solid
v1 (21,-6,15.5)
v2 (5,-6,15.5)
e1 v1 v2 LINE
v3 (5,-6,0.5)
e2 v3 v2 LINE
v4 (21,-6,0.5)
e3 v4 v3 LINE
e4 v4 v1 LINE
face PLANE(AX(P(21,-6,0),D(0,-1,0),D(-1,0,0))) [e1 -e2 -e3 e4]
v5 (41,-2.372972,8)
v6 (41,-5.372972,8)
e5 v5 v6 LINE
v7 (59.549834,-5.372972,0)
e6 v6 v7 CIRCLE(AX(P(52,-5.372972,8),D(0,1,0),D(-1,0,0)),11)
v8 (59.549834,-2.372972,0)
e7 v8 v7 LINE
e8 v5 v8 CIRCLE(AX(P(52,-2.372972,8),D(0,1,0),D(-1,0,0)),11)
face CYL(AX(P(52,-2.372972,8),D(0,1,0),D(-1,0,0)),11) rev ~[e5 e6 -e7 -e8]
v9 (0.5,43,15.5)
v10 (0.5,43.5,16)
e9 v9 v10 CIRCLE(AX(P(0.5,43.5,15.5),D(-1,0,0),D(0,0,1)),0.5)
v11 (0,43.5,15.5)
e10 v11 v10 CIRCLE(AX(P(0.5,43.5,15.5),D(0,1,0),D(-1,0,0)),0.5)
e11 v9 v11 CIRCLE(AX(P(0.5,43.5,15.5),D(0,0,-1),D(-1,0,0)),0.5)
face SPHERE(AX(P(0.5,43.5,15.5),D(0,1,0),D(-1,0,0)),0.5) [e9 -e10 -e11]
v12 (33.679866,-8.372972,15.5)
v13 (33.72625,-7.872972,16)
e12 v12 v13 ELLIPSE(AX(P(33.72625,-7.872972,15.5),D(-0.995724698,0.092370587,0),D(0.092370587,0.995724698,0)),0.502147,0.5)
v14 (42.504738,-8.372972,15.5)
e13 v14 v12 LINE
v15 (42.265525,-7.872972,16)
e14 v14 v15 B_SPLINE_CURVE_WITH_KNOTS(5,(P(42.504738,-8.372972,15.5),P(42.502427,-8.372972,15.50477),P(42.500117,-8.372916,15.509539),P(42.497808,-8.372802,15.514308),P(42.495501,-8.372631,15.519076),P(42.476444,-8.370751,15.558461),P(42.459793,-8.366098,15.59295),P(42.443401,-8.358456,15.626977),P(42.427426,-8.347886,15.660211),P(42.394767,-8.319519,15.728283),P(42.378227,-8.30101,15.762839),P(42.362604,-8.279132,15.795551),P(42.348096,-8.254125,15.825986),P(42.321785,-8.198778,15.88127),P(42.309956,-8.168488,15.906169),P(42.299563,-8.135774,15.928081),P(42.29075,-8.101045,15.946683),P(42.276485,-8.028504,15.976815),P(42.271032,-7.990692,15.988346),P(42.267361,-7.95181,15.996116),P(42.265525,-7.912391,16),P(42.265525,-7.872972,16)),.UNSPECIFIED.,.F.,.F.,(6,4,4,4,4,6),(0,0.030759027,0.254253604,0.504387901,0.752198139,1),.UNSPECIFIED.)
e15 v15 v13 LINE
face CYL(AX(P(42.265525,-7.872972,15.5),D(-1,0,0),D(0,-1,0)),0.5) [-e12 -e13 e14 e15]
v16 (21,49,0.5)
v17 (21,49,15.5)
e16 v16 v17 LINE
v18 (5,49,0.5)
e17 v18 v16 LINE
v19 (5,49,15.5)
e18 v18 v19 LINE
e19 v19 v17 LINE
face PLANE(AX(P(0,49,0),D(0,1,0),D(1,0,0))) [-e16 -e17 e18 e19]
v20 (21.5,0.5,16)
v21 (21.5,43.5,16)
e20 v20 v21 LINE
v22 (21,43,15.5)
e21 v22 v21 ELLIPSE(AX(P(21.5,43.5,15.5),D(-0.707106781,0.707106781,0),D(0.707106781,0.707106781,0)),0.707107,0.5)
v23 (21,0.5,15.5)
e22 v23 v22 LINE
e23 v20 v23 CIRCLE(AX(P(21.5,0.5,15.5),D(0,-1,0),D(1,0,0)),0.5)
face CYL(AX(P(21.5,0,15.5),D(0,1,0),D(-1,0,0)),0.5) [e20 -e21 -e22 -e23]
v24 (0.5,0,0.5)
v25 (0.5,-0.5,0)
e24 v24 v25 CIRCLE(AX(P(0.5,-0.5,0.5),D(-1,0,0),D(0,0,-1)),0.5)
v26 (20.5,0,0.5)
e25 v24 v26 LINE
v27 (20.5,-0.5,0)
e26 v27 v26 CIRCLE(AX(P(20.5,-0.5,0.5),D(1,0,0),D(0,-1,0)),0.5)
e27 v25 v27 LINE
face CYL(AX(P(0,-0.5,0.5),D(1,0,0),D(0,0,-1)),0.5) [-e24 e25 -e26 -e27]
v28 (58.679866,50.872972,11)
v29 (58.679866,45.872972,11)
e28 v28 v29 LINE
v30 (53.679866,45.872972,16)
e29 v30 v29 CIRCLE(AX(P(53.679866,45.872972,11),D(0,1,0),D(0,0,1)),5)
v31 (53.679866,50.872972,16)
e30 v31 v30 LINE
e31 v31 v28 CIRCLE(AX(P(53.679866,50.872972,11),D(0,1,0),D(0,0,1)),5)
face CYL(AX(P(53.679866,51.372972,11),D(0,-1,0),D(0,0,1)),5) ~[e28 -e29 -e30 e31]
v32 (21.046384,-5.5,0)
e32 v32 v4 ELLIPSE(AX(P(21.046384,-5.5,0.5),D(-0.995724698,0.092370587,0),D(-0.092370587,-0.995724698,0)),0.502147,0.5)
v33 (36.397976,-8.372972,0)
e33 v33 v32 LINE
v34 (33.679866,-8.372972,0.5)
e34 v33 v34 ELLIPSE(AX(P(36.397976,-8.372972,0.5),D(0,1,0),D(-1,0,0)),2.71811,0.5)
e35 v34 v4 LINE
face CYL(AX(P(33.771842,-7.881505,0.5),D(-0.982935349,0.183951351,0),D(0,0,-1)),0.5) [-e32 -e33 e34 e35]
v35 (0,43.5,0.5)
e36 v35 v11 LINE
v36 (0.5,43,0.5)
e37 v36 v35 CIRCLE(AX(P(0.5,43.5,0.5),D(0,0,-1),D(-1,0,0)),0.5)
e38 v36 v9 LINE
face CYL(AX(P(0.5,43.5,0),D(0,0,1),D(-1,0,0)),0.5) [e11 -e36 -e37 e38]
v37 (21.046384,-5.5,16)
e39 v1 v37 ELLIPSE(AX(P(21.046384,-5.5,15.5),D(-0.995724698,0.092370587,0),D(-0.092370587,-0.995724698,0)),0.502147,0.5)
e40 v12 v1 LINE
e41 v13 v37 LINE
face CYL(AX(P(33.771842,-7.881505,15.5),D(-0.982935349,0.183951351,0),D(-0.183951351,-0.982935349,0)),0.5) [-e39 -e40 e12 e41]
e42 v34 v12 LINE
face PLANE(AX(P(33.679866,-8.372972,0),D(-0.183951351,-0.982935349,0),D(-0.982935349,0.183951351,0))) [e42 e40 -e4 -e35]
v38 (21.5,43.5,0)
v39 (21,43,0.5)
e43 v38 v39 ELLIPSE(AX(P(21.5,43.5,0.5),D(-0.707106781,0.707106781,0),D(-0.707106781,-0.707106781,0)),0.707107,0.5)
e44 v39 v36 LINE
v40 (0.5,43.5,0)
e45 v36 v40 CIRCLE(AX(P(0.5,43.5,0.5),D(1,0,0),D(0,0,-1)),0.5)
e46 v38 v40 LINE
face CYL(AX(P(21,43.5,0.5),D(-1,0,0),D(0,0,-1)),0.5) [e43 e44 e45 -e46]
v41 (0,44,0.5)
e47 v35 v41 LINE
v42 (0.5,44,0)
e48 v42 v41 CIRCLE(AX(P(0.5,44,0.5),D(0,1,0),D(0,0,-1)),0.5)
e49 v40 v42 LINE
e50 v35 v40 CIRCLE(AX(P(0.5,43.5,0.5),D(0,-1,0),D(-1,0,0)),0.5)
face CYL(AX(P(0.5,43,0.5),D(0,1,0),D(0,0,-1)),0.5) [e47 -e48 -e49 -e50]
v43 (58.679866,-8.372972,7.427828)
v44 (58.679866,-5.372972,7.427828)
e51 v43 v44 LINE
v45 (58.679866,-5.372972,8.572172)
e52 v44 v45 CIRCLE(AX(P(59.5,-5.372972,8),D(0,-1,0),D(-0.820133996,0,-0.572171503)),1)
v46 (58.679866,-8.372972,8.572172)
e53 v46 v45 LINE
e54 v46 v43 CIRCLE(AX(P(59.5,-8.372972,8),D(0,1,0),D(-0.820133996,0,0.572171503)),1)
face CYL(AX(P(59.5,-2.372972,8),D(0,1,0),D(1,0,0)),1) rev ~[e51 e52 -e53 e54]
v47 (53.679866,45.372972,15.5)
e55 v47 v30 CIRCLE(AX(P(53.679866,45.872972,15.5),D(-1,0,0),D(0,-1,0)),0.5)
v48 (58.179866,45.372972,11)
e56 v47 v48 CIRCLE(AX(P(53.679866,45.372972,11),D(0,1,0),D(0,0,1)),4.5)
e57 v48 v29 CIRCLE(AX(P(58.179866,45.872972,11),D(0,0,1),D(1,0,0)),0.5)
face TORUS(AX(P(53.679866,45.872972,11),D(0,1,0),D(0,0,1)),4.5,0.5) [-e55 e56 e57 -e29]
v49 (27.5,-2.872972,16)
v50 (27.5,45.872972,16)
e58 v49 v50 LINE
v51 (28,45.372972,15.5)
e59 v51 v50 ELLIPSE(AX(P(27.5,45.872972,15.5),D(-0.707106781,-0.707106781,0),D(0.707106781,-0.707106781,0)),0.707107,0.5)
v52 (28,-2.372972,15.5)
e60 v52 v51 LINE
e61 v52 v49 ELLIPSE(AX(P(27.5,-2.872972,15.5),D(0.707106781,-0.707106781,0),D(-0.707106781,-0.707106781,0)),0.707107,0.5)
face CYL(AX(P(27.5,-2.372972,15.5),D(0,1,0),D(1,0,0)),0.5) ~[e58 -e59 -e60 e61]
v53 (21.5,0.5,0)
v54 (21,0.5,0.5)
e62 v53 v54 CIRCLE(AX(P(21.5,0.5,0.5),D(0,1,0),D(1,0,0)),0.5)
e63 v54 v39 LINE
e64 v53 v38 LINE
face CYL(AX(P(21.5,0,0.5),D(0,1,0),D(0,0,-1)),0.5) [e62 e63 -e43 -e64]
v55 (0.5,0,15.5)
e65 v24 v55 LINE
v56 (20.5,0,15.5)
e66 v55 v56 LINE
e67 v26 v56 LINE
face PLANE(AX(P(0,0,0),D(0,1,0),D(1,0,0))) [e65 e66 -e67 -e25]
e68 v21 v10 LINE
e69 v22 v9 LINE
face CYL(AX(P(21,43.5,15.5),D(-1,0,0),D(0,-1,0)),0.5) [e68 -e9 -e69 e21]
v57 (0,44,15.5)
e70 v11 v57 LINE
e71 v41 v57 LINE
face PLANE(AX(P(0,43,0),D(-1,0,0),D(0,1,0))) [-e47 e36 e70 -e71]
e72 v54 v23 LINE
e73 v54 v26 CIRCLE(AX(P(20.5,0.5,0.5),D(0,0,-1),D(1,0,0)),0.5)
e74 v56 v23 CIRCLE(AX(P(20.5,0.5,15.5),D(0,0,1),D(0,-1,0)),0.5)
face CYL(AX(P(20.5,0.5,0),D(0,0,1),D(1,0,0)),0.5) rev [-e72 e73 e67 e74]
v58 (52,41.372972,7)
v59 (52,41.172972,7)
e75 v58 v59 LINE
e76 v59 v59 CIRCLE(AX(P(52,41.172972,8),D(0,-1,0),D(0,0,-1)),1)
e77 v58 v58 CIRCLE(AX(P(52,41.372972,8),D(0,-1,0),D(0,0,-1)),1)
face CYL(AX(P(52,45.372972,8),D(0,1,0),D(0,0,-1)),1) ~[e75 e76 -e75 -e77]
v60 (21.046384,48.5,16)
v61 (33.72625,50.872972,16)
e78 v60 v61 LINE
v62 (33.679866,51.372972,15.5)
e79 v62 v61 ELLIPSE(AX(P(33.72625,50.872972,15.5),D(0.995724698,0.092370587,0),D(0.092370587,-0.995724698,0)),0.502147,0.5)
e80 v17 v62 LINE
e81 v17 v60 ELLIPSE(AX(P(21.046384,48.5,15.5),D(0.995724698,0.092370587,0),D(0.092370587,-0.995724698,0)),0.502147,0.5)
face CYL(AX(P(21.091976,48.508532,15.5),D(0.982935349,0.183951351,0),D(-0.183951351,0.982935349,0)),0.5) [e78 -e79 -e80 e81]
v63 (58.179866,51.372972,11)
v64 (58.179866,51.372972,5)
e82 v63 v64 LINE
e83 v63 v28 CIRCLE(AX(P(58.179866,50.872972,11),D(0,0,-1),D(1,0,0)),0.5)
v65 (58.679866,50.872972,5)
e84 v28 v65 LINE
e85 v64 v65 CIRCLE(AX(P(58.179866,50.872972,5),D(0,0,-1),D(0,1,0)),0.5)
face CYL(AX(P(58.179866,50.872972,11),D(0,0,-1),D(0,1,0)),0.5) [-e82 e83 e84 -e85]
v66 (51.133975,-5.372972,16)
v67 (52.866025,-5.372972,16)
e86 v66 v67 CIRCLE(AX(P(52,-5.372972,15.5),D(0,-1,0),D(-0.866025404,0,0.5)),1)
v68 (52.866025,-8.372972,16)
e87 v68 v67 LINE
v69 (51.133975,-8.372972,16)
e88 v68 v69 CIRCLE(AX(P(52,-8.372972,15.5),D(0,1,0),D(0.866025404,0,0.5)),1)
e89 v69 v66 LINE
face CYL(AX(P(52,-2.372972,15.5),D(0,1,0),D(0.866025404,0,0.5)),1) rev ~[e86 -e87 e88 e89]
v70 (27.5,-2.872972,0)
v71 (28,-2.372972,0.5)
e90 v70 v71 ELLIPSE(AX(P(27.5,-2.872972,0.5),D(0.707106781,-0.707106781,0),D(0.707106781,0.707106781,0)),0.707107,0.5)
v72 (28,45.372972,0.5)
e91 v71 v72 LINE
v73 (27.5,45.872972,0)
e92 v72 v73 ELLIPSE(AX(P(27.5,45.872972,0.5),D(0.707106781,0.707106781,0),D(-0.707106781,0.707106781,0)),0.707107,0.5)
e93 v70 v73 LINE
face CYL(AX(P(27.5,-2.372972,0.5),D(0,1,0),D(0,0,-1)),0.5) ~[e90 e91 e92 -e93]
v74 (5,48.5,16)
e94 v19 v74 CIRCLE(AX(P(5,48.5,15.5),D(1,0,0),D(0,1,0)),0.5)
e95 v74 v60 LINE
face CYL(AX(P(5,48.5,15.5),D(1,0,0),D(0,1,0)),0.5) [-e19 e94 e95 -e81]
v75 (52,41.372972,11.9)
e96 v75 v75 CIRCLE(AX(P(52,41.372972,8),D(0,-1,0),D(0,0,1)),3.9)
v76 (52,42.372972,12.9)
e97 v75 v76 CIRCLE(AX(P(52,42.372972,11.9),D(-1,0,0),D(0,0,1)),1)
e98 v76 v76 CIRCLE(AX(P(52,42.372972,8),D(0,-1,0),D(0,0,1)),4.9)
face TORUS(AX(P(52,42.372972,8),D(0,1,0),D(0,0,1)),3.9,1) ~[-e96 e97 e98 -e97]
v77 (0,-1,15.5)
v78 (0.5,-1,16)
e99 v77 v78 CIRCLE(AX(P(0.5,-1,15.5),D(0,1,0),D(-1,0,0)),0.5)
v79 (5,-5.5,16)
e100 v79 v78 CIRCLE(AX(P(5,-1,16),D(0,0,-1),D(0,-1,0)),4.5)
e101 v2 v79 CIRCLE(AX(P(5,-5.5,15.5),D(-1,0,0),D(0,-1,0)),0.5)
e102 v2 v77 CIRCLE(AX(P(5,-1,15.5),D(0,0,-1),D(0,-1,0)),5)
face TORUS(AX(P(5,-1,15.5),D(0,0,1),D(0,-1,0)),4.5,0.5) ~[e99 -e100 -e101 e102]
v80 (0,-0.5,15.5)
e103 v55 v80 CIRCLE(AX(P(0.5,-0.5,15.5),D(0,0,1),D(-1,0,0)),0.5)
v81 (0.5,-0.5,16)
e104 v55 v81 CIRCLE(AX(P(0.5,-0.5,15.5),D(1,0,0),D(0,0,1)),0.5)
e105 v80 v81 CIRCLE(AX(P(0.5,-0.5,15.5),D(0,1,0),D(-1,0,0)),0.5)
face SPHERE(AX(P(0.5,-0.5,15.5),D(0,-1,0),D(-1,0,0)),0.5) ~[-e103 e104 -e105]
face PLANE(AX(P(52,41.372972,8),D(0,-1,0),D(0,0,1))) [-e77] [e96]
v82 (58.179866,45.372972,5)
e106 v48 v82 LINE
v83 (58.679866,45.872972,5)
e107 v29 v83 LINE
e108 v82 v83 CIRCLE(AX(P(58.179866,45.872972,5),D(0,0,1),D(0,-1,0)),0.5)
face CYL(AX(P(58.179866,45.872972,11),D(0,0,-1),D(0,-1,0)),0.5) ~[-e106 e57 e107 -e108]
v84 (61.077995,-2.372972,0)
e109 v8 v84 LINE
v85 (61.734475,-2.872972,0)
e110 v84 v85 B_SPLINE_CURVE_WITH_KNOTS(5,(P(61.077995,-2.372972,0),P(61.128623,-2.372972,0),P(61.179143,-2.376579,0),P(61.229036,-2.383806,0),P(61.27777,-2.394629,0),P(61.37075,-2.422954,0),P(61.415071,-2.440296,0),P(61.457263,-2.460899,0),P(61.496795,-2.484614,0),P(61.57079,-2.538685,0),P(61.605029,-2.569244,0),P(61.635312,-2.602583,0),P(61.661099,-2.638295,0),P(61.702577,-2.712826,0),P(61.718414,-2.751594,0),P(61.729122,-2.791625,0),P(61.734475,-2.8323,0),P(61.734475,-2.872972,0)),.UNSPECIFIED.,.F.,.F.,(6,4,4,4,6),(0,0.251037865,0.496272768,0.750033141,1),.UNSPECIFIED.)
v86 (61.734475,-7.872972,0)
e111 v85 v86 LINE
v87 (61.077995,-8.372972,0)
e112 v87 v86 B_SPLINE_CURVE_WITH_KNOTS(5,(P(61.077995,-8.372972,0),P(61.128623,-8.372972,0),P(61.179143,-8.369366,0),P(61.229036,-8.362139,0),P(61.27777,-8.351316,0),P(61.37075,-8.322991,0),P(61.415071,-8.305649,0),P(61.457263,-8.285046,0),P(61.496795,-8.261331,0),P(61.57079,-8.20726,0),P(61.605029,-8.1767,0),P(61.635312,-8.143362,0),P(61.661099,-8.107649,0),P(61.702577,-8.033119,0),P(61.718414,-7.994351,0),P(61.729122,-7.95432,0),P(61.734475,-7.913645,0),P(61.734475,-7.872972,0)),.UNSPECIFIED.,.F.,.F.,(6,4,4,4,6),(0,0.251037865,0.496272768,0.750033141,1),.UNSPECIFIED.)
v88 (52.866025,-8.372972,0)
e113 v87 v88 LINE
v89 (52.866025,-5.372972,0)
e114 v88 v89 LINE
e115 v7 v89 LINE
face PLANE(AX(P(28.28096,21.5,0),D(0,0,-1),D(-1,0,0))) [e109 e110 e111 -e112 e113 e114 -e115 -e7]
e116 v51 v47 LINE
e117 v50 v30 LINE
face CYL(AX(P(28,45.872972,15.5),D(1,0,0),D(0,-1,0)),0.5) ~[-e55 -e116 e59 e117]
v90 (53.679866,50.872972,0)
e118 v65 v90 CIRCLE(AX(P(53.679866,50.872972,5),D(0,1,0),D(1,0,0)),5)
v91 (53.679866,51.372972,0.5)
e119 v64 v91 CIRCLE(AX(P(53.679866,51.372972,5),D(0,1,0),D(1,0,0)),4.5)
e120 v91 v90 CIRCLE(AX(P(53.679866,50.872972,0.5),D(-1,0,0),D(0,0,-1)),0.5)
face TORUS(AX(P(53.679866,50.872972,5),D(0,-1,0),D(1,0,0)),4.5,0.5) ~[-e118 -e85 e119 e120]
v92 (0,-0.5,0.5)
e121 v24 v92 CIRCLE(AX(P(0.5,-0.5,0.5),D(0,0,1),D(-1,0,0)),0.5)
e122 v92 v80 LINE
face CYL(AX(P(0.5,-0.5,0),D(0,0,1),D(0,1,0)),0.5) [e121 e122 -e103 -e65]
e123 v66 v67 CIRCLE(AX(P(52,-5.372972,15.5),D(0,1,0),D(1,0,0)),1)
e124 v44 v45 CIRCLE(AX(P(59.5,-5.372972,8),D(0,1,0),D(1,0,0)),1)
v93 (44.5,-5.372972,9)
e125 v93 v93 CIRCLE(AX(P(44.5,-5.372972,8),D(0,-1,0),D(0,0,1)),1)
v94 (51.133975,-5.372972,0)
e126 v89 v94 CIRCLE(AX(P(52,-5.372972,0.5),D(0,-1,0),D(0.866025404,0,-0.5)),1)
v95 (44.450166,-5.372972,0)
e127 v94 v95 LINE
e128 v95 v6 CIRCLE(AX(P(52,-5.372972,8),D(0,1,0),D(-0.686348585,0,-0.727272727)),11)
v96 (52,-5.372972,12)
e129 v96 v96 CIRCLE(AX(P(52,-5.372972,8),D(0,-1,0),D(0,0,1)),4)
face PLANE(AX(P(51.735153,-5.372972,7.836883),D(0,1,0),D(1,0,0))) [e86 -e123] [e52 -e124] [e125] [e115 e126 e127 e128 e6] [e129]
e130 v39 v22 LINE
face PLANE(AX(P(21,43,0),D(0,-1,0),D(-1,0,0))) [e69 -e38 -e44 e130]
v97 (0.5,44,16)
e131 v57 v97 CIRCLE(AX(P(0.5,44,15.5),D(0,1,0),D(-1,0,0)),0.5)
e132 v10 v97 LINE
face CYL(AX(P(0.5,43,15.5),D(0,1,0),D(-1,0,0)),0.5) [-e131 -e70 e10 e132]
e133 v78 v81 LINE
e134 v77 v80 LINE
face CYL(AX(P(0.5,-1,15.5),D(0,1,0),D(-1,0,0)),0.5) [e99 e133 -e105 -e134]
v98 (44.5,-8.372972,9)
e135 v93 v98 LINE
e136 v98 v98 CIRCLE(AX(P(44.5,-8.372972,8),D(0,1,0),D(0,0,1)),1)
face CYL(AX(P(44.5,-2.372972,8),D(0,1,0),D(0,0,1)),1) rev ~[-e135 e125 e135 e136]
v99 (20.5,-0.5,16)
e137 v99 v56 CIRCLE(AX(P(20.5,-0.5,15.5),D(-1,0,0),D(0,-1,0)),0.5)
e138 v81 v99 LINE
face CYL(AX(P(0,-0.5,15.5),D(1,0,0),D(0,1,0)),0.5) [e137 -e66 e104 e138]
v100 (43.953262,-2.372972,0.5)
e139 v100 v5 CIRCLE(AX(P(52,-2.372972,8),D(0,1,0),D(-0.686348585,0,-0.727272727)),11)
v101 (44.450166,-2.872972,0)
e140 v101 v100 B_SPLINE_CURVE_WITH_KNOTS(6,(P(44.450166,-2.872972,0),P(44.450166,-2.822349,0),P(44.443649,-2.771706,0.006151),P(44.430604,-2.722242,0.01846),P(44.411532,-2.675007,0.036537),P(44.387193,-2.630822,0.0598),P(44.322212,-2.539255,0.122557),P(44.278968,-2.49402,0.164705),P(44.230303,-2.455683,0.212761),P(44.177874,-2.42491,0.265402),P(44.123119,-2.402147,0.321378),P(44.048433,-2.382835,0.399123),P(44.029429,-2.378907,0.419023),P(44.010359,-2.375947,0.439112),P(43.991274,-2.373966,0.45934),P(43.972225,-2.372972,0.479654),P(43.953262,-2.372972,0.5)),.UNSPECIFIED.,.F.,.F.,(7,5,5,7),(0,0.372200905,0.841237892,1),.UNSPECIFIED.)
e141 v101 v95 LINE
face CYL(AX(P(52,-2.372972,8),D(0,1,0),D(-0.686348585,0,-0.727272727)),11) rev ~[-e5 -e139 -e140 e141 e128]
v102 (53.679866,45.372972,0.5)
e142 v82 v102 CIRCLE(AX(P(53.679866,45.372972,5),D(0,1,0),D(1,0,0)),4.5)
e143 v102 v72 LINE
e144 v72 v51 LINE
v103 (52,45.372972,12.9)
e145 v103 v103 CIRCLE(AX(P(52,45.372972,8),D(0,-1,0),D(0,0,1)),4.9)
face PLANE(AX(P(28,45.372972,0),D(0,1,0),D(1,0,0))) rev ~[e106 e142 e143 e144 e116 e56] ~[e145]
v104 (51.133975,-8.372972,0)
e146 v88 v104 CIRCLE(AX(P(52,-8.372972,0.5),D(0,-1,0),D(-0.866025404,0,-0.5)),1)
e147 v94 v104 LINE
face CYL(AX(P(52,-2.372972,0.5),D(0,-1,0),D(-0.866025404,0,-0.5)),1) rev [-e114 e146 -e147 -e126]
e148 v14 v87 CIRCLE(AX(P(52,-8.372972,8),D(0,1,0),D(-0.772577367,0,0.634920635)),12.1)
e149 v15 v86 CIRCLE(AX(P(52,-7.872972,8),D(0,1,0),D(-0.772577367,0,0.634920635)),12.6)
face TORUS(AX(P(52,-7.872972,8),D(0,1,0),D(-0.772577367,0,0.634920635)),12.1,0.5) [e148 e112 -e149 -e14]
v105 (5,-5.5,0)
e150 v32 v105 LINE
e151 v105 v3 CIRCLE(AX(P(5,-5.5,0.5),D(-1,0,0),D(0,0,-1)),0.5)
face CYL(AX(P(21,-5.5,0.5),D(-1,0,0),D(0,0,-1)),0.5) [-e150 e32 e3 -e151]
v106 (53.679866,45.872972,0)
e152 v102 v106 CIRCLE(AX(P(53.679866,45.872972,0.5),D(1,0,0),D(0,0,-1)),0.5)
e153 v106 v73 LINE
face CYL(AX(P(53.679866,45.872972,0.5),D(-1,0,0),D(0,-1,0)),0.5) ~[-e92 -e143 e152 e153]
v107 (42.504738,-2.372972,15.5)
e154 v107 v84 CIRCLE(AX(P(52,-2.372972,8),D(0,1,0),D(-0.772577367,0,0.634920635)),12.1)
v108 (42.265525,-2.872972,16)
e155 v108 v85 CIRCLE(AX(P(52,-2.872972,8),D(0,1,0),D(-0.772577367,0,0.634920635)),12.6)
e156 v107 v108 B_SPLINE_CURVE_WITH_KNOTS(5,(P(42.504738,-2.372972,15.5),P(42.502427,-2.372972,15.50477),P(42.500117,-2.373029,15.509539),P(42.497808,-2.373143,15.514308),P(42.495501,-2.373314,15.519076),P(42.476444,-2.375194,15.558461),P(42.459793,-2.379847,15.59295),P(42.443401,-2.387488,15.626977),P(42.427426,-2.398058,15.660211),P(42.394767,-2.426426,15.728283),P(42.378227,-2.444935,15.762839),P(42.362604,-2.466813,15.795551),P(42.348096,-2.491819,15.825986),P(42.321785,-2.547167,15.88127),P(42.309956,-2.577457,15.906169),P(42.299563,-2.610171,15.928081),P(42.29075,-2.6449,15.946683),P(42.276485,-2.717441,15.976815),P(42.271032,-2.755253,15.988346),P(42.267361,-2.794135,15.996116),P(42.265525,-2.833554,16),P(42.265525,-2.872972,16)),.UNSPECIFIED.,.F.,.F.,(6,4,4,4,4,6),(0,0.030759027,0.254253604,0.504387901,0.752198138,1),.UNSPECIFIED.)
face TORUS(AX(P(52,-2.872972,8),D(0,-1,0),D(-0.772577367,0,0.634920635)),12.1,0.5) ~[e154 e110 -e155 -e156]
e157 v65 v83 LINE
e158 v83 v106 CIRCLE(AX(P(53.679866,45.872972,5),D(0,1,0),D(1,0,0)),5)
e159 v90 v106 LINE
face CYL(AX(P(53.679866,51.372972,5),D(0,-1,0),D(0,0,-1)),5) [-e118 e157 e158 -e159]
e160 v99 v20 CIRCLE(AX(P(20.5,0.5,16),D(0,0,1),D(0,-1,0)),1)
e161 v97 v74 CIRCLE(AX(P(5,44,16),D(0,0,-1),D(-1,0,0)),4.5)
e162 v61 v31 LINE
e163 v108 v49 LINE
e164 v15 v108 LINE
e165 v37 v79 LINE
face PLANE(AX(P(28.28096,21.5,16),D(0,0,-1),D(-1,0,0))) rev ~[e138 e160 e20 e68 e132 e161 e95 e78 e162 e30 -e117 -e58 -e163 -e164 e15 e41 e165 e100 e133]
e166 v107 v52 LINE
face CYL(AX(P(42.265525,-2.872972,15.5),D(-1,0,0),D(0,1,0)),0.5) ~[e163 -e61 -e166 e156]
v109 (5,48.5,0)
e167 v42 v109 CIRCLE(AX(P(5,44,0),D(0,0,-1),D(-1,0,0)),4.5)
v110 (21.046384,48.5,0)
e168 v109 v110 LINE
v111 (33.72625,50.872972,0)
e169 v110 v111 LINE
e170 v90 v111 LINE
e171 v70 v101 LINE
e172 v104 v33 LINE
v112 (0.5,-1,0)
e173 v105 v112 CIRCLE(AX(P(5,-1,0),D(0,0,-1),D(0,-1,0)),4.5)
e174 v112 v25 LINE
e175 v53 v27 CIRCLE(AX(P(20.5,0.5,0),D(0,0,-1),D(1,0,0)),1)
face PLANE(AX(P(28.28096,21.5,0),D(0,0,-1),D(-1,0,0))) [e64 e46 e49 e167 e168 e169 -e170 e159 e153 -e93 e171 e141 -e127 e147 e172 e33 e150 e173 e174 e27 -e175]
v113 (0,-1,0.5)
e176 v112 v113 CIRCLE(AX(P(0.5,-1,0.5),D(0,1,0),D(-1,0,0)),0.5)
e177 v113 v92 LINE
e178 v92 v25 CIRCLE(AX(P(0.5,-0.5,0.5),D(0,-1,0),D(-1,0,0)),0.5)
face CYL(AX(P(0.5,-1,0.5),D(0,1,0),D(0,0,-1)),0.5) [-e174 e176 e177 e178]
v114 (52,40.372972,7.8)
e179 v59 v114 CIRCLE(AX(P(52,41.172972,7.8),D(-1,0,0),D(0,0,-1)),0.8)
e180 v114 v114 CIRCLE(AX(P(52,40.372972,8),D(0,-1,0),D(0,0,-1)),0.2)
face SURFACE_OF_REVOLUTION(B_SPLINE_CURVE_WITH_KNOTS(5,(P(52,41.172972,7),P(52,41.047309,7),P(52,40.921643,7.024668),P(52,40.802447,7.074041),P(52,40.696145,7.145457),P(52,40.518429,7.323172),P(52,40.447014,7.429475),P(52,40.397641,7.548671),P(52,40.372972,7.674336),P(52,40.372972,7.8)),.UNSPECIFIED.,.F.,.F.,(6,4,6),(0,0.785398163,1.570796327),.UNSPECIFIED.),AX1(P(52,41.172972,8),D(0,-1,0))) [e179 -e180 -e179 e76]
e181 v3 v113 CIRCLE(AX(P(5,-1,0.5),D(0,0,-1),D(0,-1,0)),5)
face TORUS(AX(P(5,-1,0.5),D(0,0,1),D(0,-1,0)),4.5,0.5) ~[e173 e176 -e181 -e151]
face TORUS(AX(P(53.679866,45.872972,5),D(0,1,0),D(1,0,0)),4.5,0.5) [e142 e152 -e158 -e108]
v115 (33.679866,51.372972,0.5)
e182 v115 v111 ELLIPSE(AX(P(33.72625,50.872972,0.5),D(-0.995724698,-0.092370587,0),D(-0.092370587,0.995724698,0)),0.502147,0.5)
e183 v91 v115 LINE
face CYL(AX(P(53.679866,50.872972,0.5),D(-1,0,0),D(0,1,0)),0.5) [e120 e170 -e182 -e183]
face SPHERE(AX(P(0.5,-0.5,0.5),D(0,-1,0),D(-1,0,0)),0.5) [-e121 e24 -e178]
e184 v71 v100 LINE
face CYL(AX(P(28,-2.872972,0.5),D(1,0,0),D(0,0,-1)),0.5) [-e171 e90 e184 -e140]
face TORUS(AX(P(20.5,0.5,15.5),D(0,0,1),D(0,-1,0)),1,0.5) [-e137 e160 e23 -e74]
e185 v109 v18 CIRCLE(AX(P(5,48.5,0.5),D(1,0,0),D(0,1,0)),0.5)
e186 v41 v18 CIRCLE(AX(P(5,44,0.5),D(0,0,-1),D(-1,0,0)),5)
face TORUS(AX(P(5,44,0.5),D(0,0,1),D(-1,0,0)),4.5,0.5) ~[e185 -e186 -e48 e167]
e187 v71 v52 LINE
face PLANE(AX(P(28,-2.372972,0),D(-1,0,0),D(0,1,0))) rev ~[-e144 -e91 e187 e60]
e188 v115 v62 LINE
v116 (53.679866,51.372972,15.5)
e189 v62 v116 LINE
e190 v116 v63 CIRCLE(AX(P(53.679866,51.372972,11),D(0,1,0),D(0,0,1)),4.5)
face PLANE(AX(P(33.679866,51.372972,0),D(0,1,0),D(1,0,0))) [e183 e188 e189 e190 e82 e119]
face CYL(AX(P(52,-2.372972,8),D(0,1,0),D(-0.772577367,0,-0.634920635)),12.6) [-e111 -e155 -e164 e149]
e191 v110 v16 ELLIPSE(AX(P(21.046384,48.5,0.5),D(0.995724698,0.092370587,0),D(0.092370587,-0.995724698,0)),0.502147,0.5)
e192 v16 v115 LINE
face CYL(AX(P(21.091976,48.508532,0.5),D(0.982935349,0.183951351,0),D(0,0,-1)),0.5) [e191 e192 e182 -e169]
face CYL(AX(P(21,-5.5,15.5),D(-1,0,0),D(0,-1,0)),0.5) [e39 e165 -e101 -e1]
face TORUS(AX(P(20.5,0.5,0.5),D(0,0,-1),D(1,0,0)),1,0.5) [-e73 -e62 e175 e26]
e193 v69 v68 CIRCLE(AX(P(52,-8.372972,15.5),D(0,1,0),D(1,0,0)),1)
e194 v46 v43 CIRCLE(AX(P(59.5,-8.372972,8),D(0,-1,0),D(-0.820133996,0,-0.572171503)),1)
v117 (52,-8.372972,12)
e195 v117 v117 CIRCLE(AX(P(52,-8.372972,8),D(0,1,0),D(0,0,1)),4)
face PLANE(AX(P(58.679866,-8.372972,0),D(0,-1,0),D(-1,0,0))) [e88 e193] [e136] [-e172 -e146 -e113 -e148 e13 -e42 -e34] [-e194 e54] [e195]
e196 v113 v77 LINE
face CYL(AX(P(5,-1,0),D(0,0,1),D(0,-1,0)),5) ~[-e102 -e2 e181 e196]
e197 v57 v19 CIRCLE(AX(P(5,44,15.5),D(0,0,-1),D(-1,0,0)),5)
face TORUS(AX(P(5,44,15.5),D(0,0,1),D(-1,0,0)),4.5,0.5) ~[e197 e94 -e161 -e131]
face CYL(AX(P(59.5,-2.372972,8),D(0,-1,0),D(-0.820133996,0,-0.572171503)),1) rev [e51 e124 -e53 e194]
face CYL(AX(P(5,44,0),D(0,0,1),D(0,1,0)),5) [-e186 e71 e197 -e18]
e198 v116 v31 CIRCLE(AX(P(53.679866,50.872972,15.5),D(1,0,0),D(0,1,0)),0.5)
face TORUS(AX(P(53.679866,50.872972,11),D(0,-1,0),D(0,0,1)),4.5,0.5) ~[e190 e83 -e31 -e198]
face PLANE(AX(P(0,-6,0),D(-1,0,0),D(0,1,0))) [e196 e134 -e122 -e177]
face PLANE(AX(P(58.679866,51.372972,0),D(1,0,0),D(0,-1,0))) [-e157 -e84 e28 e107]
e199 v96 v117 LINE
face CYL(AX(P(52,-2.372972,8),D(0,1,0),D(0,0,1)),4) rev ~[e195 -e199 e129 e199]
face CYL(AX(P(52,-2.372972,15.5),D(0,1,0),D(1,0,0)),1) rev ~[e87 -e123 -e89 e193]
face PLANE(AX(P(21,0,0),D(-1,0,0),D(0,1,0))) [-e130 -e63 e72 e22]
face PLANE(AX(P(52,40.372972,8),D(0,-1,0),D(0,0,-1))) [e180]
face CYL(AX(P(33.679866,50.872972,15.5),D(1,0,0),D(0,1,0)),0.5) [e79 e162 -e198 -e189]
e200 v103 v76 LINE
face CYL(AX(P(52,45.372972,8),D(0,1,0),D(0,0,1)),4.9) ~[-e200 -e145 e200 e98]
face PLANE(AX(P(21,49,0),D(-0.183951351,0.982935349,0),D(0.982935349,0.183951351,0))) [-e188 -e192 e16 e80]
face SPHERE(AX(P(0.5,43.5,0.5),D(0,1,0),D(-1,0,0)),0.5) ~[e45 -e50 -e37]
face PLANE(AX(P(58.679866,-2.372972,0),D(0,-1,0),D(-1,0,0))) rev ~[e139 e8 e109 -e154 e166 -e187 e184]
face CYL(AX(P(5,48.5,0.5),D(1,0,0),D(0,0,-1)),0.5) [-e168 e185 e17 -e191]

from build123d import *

# Parameters (mm, degrees)
BOSS_EXTRUDE1_DEPTH = 16
SKETCH3_R           = 4
SKETCH3_R_2         = 1
BOSS_EXTRUDE2_DEPTH = 6
SKETCH3_3_R         = 1
CUT_EXTRUDE1_DEPTH  = 3
SKETCH3_4_R         = 4
SKETCH3_4_R_2       = 1
CUT_EXTRUDE2_DEPTH  = 6.5
SKETCH4_R           = 4.9
SKETCH4_R_2         = 1
BOSS_EXTRUDE3_DEPTH = 4
SKETCH4_3_R         = 1
BOSS_EXTRUDE4_DEPTH = 5
FILLET1_R           = 0.8
FILLET2_R           = 1
FILLET3_R           = 5
FILLET4_R           = 5
FILLET5_R           = 0.5


with BuildPart() as part:
    # Sketch1 → Boss-Extrude1 (new body)
    with BuildSketch(Plane.XY):
        Polygon((0, 49), (21, 49), (33.679866004, 51.372972423), (58.679866004, 51.372972423), (58.679866004, 45.372972423), (33.679866004, 45.372972423), (28, 45.372972423), (28, 43), (28, 0), (28, -2.372972423), (33.679866004, -2.372972423), (58.679866004, -2.372972423), (58.679866004, -8.372972423), (33.679866004, -8.372972423), (21, -6), (0, -6), (0, 0), (21, 0), (21, 43), (0, 43), align=None)
    extrude(amount=BOSS_EXTRUDE1_DEPTH)

    # Sketch3 → Boss-Extrude2 (add)
    with BuildSketch(Plane(origin=(0, -2.372972423, 0), x_dir=(1, 0, 0), z_dir=(0, 1, 0))):
        with BuildLine():
            Line((58.679866004, 0), (42.265525181, 0))
            ThreePointArc((42.265525181, 0), (52, -20.6), (61.734474819, 0))
            Line((61.734474819, 0), (58.679866004, 0))
        make_face()
        with Locations((52, -8)):
            Circle(SKETCH3_R, mode=Mode.SUBTRACT)
        with Locations((44.5, -8)):
            Circle(SKETCH3_R_2, mode=Mode.SUBTRACT)
        with Locations((59.5, -8)):
            Circle(SKETCH3_R_2, mode=Mode.SUBTRACT)
        with Locations((52, -15.5)):
            Circle(SKETCH3_R_2, mode=Mode.SUBTRACT)
    extrude(amount=-BOSS_EXTRUDE2_DEPTH)

    # Sketch3<3> → Cut-Extrude1 (cut)
    with BuildSketch(Plane(origin=(0, -2.372972423, 0), x_dir=(1, 0, 0), z_dir=(0, 1, 0))):
        with BuildLine():
            Line((59.549834435, 0), (58.679866004, 0))
            Line((58.679866004, 0), (52.866025404, 0))
            ThreePointArc((52.866025404, 0), (52, -1.5), (51.133974596, 0))
            Line((51.133974596, 0), (44.450165565, 0))
            ThreePointArc((44.450165565, 0), (41.899302529, -3.643865176), (41, -8))
            ThreePointArc((41, -8), (56.356134824, -18.100697471), (59.549834435, 0))
        make_face()
        with Locations((52, -15.5)):
            Circle(SKETCH3_3_R, mode=Mode.SUBTRACT)
        with BuildLine():
            ThreePointArc((45.5, -8), (44.5, -9), (43.5, -8))
            ThreePointArc((43.5, -8), (44.5, -7), (45.5, -8))
        make_face(mode=Mode.SUBTRACT)
        with BuildLine():
            ThreePointArc((56, -8), (52, -12), (48, -8))
            ThreePointArc((48, -8), (52, -4), (56, -8))
        make_face(mode=Mode.SUBTRACT)
        with Locations((59.5, -8)):
            Circle(SKETCH3_3_R, mode=Mode.SUBTRACT)
    extrude(amount=-CUT_EXTRUDE1_DEPTH, mode=Mode.SUBTRACT)

    # Sketch3<4> → Cut-Extrude2 (cut, symmetric)
    with BuildSketch(Plane(origin=(0, -2.372972423, 0), x_dir=(1, 0, 0), z_dir=(0, 1, 0))):
        with Locations(Location((52, -8, 0), (0, 0, 270))):
            Circle(SKETCH3_4_R)
        with Locations(Location((44.5, -8, 0), (0, 0, 270))):
            Circle(SKETCH3_4_R_2)
        with BuildLine():
            ThreePointArc((51.133974596, 0), (52, -1.5), (52.866025404, 0))
            Line((52.866025404, 0), (51.133974596, 0))
        make_face()
        with BuildLine():
            Line((58.679866004, -8.572171503), (58.679866004, -7.427828497))
            ThreePointArc((58.679866004, -7.427828497), (58.5, -8), (58.679866004, -8.572171503))
        make_face()
        with BuildLine():
            ThreePointArc((52.866025404, -16), (52, -14.5), (51.133974596, -16))
            Line((51.133974596, -16), (52.866025404, -16))
        make_face()
    extrude(amount=CUT_EXTRUDE2_DEPTH, both=True, mode=Mode.SUBTRACT)

    # Sketch4 → Boss-Extrude3 (add)
    with BuildSketch(Plane.XZ.offset(-45.372972423)):
        with Locations(Location((52, 8, 0), (0, 0, 90))):
            Circle(SKETCH4_R)
        with Locations(Location((52, 8, 0), (0, 0, 270))):
            Circle(SKETCH4_R_2, mode=Mode.SUBTRACT)
    extrude(amount=BOSS_EXTRUDE3_DEPTH)

    # Sketch4<3> → Boss-Extrude4 (add)
    with BuildSketch(Plane.XZ.offset(-45.372972423)):
        with Locations(Location((52, 8, 0), (0, 0, 270))):
            Circle(SKETCH4_3_R)
    extrude(amount=BOSS_EXTRUDE4_DEPTH)

    # Fillet1
    fillet1_edges = [part.edges().sort_by_distance(p)[0] for p in [
        (52, 40.372972423, 9),
    ]]
    fillet(fillet1_edges, radius=FILLET1_R)

    # Fillet2
    fillet2_edges = [part.edges().sort_by_distance(p)[0] for p in [
        (52, 41.372972423, 3.1),
    ]]
    fillet(fillet2_edges, radius=FILLET2_R)

    # Fillet3
    fillet3_edges = [part.edges().sort_by_distance(p)[0] for p in [
        (58.679866004, 48.372972423, 0),
        (58.679866004, 48.372972423, 16),
    ]]
    fillet(fillet3_edges, radius=FILLET3_R)

    # Fillet4
    fillet4_edges = [part.edges().sort_by_distance(p)[0] for p in [
        (0, 49, 8),
        (0, -6, 8),
    ]]
    fillet(fillet4_edges, radius=FILLET4_R)

    # Fillet5
    fillet5_edges = [part.edges().sort_by_distance(p)[0] for p in [
        (43.679866004, 51.372972423, 16),
        (57.21539991, 51.372972423, 14.535533906),
        (58.679866004, 51.372972423, 8),
        (57.21539991, 51.372972423, 1.464466094),
        (0, 43.5, 16),
        (1.464466094, 47.535533906, 16),
        (0, 43.5, 0),
        (1.464466094, 47.535533906, 0),
        (0, -0.5, 16),
        (1.464466094, -4.535533906, 16),
        (0, -0.5, 0),
        (1.464466094, -4.535533906, 0),
        (40.839933002, 45.372972423, 16),
        (57.21539991, 45.372972423, 14.535533906),
        (58.679866004, 45.372972423, 8),
        (57.21539991, 45.372972423, 1.464466094),
        (43.679866004, 51.372972423, 0),
        (27.339933002, 50.186486211, 16),
        (13, 49, 16),
        (13, 49, 0),
        (27.339933002, 50.186486211, 0),
        (13, -6, 16),
        (13, -6, 0),
        (27.339933002, -7.186486211, 0),
        (27.339933002, -7.186486211, 16),
        (37.972695593, -8.372972423, 16),
        (60, -8.372972423, 17.734474819),
        (60, -2.372972423, 17.734474819),
        (35.132762591, -2.372972423, 16),
        (28, 21.5, 16),
        (40.839933002, 45.372972423, 0),
        (28, 21.5, 0),
        (36.225082782, -2.372972423, 0),
        (0, 43, 8),
        (0, 0, 8),
        (21, 0, 8),
        (10.5, 0, 16),
        (21, 21.5, 16),
        (10.5, 43, 16),
        (10.5, 43, 0),
        (21, 21.5, 0),
        (10.5, 0, 0),
    ]]
    fillet(fillet5_edges, radius=FILLET5_R)


solid = part.part
